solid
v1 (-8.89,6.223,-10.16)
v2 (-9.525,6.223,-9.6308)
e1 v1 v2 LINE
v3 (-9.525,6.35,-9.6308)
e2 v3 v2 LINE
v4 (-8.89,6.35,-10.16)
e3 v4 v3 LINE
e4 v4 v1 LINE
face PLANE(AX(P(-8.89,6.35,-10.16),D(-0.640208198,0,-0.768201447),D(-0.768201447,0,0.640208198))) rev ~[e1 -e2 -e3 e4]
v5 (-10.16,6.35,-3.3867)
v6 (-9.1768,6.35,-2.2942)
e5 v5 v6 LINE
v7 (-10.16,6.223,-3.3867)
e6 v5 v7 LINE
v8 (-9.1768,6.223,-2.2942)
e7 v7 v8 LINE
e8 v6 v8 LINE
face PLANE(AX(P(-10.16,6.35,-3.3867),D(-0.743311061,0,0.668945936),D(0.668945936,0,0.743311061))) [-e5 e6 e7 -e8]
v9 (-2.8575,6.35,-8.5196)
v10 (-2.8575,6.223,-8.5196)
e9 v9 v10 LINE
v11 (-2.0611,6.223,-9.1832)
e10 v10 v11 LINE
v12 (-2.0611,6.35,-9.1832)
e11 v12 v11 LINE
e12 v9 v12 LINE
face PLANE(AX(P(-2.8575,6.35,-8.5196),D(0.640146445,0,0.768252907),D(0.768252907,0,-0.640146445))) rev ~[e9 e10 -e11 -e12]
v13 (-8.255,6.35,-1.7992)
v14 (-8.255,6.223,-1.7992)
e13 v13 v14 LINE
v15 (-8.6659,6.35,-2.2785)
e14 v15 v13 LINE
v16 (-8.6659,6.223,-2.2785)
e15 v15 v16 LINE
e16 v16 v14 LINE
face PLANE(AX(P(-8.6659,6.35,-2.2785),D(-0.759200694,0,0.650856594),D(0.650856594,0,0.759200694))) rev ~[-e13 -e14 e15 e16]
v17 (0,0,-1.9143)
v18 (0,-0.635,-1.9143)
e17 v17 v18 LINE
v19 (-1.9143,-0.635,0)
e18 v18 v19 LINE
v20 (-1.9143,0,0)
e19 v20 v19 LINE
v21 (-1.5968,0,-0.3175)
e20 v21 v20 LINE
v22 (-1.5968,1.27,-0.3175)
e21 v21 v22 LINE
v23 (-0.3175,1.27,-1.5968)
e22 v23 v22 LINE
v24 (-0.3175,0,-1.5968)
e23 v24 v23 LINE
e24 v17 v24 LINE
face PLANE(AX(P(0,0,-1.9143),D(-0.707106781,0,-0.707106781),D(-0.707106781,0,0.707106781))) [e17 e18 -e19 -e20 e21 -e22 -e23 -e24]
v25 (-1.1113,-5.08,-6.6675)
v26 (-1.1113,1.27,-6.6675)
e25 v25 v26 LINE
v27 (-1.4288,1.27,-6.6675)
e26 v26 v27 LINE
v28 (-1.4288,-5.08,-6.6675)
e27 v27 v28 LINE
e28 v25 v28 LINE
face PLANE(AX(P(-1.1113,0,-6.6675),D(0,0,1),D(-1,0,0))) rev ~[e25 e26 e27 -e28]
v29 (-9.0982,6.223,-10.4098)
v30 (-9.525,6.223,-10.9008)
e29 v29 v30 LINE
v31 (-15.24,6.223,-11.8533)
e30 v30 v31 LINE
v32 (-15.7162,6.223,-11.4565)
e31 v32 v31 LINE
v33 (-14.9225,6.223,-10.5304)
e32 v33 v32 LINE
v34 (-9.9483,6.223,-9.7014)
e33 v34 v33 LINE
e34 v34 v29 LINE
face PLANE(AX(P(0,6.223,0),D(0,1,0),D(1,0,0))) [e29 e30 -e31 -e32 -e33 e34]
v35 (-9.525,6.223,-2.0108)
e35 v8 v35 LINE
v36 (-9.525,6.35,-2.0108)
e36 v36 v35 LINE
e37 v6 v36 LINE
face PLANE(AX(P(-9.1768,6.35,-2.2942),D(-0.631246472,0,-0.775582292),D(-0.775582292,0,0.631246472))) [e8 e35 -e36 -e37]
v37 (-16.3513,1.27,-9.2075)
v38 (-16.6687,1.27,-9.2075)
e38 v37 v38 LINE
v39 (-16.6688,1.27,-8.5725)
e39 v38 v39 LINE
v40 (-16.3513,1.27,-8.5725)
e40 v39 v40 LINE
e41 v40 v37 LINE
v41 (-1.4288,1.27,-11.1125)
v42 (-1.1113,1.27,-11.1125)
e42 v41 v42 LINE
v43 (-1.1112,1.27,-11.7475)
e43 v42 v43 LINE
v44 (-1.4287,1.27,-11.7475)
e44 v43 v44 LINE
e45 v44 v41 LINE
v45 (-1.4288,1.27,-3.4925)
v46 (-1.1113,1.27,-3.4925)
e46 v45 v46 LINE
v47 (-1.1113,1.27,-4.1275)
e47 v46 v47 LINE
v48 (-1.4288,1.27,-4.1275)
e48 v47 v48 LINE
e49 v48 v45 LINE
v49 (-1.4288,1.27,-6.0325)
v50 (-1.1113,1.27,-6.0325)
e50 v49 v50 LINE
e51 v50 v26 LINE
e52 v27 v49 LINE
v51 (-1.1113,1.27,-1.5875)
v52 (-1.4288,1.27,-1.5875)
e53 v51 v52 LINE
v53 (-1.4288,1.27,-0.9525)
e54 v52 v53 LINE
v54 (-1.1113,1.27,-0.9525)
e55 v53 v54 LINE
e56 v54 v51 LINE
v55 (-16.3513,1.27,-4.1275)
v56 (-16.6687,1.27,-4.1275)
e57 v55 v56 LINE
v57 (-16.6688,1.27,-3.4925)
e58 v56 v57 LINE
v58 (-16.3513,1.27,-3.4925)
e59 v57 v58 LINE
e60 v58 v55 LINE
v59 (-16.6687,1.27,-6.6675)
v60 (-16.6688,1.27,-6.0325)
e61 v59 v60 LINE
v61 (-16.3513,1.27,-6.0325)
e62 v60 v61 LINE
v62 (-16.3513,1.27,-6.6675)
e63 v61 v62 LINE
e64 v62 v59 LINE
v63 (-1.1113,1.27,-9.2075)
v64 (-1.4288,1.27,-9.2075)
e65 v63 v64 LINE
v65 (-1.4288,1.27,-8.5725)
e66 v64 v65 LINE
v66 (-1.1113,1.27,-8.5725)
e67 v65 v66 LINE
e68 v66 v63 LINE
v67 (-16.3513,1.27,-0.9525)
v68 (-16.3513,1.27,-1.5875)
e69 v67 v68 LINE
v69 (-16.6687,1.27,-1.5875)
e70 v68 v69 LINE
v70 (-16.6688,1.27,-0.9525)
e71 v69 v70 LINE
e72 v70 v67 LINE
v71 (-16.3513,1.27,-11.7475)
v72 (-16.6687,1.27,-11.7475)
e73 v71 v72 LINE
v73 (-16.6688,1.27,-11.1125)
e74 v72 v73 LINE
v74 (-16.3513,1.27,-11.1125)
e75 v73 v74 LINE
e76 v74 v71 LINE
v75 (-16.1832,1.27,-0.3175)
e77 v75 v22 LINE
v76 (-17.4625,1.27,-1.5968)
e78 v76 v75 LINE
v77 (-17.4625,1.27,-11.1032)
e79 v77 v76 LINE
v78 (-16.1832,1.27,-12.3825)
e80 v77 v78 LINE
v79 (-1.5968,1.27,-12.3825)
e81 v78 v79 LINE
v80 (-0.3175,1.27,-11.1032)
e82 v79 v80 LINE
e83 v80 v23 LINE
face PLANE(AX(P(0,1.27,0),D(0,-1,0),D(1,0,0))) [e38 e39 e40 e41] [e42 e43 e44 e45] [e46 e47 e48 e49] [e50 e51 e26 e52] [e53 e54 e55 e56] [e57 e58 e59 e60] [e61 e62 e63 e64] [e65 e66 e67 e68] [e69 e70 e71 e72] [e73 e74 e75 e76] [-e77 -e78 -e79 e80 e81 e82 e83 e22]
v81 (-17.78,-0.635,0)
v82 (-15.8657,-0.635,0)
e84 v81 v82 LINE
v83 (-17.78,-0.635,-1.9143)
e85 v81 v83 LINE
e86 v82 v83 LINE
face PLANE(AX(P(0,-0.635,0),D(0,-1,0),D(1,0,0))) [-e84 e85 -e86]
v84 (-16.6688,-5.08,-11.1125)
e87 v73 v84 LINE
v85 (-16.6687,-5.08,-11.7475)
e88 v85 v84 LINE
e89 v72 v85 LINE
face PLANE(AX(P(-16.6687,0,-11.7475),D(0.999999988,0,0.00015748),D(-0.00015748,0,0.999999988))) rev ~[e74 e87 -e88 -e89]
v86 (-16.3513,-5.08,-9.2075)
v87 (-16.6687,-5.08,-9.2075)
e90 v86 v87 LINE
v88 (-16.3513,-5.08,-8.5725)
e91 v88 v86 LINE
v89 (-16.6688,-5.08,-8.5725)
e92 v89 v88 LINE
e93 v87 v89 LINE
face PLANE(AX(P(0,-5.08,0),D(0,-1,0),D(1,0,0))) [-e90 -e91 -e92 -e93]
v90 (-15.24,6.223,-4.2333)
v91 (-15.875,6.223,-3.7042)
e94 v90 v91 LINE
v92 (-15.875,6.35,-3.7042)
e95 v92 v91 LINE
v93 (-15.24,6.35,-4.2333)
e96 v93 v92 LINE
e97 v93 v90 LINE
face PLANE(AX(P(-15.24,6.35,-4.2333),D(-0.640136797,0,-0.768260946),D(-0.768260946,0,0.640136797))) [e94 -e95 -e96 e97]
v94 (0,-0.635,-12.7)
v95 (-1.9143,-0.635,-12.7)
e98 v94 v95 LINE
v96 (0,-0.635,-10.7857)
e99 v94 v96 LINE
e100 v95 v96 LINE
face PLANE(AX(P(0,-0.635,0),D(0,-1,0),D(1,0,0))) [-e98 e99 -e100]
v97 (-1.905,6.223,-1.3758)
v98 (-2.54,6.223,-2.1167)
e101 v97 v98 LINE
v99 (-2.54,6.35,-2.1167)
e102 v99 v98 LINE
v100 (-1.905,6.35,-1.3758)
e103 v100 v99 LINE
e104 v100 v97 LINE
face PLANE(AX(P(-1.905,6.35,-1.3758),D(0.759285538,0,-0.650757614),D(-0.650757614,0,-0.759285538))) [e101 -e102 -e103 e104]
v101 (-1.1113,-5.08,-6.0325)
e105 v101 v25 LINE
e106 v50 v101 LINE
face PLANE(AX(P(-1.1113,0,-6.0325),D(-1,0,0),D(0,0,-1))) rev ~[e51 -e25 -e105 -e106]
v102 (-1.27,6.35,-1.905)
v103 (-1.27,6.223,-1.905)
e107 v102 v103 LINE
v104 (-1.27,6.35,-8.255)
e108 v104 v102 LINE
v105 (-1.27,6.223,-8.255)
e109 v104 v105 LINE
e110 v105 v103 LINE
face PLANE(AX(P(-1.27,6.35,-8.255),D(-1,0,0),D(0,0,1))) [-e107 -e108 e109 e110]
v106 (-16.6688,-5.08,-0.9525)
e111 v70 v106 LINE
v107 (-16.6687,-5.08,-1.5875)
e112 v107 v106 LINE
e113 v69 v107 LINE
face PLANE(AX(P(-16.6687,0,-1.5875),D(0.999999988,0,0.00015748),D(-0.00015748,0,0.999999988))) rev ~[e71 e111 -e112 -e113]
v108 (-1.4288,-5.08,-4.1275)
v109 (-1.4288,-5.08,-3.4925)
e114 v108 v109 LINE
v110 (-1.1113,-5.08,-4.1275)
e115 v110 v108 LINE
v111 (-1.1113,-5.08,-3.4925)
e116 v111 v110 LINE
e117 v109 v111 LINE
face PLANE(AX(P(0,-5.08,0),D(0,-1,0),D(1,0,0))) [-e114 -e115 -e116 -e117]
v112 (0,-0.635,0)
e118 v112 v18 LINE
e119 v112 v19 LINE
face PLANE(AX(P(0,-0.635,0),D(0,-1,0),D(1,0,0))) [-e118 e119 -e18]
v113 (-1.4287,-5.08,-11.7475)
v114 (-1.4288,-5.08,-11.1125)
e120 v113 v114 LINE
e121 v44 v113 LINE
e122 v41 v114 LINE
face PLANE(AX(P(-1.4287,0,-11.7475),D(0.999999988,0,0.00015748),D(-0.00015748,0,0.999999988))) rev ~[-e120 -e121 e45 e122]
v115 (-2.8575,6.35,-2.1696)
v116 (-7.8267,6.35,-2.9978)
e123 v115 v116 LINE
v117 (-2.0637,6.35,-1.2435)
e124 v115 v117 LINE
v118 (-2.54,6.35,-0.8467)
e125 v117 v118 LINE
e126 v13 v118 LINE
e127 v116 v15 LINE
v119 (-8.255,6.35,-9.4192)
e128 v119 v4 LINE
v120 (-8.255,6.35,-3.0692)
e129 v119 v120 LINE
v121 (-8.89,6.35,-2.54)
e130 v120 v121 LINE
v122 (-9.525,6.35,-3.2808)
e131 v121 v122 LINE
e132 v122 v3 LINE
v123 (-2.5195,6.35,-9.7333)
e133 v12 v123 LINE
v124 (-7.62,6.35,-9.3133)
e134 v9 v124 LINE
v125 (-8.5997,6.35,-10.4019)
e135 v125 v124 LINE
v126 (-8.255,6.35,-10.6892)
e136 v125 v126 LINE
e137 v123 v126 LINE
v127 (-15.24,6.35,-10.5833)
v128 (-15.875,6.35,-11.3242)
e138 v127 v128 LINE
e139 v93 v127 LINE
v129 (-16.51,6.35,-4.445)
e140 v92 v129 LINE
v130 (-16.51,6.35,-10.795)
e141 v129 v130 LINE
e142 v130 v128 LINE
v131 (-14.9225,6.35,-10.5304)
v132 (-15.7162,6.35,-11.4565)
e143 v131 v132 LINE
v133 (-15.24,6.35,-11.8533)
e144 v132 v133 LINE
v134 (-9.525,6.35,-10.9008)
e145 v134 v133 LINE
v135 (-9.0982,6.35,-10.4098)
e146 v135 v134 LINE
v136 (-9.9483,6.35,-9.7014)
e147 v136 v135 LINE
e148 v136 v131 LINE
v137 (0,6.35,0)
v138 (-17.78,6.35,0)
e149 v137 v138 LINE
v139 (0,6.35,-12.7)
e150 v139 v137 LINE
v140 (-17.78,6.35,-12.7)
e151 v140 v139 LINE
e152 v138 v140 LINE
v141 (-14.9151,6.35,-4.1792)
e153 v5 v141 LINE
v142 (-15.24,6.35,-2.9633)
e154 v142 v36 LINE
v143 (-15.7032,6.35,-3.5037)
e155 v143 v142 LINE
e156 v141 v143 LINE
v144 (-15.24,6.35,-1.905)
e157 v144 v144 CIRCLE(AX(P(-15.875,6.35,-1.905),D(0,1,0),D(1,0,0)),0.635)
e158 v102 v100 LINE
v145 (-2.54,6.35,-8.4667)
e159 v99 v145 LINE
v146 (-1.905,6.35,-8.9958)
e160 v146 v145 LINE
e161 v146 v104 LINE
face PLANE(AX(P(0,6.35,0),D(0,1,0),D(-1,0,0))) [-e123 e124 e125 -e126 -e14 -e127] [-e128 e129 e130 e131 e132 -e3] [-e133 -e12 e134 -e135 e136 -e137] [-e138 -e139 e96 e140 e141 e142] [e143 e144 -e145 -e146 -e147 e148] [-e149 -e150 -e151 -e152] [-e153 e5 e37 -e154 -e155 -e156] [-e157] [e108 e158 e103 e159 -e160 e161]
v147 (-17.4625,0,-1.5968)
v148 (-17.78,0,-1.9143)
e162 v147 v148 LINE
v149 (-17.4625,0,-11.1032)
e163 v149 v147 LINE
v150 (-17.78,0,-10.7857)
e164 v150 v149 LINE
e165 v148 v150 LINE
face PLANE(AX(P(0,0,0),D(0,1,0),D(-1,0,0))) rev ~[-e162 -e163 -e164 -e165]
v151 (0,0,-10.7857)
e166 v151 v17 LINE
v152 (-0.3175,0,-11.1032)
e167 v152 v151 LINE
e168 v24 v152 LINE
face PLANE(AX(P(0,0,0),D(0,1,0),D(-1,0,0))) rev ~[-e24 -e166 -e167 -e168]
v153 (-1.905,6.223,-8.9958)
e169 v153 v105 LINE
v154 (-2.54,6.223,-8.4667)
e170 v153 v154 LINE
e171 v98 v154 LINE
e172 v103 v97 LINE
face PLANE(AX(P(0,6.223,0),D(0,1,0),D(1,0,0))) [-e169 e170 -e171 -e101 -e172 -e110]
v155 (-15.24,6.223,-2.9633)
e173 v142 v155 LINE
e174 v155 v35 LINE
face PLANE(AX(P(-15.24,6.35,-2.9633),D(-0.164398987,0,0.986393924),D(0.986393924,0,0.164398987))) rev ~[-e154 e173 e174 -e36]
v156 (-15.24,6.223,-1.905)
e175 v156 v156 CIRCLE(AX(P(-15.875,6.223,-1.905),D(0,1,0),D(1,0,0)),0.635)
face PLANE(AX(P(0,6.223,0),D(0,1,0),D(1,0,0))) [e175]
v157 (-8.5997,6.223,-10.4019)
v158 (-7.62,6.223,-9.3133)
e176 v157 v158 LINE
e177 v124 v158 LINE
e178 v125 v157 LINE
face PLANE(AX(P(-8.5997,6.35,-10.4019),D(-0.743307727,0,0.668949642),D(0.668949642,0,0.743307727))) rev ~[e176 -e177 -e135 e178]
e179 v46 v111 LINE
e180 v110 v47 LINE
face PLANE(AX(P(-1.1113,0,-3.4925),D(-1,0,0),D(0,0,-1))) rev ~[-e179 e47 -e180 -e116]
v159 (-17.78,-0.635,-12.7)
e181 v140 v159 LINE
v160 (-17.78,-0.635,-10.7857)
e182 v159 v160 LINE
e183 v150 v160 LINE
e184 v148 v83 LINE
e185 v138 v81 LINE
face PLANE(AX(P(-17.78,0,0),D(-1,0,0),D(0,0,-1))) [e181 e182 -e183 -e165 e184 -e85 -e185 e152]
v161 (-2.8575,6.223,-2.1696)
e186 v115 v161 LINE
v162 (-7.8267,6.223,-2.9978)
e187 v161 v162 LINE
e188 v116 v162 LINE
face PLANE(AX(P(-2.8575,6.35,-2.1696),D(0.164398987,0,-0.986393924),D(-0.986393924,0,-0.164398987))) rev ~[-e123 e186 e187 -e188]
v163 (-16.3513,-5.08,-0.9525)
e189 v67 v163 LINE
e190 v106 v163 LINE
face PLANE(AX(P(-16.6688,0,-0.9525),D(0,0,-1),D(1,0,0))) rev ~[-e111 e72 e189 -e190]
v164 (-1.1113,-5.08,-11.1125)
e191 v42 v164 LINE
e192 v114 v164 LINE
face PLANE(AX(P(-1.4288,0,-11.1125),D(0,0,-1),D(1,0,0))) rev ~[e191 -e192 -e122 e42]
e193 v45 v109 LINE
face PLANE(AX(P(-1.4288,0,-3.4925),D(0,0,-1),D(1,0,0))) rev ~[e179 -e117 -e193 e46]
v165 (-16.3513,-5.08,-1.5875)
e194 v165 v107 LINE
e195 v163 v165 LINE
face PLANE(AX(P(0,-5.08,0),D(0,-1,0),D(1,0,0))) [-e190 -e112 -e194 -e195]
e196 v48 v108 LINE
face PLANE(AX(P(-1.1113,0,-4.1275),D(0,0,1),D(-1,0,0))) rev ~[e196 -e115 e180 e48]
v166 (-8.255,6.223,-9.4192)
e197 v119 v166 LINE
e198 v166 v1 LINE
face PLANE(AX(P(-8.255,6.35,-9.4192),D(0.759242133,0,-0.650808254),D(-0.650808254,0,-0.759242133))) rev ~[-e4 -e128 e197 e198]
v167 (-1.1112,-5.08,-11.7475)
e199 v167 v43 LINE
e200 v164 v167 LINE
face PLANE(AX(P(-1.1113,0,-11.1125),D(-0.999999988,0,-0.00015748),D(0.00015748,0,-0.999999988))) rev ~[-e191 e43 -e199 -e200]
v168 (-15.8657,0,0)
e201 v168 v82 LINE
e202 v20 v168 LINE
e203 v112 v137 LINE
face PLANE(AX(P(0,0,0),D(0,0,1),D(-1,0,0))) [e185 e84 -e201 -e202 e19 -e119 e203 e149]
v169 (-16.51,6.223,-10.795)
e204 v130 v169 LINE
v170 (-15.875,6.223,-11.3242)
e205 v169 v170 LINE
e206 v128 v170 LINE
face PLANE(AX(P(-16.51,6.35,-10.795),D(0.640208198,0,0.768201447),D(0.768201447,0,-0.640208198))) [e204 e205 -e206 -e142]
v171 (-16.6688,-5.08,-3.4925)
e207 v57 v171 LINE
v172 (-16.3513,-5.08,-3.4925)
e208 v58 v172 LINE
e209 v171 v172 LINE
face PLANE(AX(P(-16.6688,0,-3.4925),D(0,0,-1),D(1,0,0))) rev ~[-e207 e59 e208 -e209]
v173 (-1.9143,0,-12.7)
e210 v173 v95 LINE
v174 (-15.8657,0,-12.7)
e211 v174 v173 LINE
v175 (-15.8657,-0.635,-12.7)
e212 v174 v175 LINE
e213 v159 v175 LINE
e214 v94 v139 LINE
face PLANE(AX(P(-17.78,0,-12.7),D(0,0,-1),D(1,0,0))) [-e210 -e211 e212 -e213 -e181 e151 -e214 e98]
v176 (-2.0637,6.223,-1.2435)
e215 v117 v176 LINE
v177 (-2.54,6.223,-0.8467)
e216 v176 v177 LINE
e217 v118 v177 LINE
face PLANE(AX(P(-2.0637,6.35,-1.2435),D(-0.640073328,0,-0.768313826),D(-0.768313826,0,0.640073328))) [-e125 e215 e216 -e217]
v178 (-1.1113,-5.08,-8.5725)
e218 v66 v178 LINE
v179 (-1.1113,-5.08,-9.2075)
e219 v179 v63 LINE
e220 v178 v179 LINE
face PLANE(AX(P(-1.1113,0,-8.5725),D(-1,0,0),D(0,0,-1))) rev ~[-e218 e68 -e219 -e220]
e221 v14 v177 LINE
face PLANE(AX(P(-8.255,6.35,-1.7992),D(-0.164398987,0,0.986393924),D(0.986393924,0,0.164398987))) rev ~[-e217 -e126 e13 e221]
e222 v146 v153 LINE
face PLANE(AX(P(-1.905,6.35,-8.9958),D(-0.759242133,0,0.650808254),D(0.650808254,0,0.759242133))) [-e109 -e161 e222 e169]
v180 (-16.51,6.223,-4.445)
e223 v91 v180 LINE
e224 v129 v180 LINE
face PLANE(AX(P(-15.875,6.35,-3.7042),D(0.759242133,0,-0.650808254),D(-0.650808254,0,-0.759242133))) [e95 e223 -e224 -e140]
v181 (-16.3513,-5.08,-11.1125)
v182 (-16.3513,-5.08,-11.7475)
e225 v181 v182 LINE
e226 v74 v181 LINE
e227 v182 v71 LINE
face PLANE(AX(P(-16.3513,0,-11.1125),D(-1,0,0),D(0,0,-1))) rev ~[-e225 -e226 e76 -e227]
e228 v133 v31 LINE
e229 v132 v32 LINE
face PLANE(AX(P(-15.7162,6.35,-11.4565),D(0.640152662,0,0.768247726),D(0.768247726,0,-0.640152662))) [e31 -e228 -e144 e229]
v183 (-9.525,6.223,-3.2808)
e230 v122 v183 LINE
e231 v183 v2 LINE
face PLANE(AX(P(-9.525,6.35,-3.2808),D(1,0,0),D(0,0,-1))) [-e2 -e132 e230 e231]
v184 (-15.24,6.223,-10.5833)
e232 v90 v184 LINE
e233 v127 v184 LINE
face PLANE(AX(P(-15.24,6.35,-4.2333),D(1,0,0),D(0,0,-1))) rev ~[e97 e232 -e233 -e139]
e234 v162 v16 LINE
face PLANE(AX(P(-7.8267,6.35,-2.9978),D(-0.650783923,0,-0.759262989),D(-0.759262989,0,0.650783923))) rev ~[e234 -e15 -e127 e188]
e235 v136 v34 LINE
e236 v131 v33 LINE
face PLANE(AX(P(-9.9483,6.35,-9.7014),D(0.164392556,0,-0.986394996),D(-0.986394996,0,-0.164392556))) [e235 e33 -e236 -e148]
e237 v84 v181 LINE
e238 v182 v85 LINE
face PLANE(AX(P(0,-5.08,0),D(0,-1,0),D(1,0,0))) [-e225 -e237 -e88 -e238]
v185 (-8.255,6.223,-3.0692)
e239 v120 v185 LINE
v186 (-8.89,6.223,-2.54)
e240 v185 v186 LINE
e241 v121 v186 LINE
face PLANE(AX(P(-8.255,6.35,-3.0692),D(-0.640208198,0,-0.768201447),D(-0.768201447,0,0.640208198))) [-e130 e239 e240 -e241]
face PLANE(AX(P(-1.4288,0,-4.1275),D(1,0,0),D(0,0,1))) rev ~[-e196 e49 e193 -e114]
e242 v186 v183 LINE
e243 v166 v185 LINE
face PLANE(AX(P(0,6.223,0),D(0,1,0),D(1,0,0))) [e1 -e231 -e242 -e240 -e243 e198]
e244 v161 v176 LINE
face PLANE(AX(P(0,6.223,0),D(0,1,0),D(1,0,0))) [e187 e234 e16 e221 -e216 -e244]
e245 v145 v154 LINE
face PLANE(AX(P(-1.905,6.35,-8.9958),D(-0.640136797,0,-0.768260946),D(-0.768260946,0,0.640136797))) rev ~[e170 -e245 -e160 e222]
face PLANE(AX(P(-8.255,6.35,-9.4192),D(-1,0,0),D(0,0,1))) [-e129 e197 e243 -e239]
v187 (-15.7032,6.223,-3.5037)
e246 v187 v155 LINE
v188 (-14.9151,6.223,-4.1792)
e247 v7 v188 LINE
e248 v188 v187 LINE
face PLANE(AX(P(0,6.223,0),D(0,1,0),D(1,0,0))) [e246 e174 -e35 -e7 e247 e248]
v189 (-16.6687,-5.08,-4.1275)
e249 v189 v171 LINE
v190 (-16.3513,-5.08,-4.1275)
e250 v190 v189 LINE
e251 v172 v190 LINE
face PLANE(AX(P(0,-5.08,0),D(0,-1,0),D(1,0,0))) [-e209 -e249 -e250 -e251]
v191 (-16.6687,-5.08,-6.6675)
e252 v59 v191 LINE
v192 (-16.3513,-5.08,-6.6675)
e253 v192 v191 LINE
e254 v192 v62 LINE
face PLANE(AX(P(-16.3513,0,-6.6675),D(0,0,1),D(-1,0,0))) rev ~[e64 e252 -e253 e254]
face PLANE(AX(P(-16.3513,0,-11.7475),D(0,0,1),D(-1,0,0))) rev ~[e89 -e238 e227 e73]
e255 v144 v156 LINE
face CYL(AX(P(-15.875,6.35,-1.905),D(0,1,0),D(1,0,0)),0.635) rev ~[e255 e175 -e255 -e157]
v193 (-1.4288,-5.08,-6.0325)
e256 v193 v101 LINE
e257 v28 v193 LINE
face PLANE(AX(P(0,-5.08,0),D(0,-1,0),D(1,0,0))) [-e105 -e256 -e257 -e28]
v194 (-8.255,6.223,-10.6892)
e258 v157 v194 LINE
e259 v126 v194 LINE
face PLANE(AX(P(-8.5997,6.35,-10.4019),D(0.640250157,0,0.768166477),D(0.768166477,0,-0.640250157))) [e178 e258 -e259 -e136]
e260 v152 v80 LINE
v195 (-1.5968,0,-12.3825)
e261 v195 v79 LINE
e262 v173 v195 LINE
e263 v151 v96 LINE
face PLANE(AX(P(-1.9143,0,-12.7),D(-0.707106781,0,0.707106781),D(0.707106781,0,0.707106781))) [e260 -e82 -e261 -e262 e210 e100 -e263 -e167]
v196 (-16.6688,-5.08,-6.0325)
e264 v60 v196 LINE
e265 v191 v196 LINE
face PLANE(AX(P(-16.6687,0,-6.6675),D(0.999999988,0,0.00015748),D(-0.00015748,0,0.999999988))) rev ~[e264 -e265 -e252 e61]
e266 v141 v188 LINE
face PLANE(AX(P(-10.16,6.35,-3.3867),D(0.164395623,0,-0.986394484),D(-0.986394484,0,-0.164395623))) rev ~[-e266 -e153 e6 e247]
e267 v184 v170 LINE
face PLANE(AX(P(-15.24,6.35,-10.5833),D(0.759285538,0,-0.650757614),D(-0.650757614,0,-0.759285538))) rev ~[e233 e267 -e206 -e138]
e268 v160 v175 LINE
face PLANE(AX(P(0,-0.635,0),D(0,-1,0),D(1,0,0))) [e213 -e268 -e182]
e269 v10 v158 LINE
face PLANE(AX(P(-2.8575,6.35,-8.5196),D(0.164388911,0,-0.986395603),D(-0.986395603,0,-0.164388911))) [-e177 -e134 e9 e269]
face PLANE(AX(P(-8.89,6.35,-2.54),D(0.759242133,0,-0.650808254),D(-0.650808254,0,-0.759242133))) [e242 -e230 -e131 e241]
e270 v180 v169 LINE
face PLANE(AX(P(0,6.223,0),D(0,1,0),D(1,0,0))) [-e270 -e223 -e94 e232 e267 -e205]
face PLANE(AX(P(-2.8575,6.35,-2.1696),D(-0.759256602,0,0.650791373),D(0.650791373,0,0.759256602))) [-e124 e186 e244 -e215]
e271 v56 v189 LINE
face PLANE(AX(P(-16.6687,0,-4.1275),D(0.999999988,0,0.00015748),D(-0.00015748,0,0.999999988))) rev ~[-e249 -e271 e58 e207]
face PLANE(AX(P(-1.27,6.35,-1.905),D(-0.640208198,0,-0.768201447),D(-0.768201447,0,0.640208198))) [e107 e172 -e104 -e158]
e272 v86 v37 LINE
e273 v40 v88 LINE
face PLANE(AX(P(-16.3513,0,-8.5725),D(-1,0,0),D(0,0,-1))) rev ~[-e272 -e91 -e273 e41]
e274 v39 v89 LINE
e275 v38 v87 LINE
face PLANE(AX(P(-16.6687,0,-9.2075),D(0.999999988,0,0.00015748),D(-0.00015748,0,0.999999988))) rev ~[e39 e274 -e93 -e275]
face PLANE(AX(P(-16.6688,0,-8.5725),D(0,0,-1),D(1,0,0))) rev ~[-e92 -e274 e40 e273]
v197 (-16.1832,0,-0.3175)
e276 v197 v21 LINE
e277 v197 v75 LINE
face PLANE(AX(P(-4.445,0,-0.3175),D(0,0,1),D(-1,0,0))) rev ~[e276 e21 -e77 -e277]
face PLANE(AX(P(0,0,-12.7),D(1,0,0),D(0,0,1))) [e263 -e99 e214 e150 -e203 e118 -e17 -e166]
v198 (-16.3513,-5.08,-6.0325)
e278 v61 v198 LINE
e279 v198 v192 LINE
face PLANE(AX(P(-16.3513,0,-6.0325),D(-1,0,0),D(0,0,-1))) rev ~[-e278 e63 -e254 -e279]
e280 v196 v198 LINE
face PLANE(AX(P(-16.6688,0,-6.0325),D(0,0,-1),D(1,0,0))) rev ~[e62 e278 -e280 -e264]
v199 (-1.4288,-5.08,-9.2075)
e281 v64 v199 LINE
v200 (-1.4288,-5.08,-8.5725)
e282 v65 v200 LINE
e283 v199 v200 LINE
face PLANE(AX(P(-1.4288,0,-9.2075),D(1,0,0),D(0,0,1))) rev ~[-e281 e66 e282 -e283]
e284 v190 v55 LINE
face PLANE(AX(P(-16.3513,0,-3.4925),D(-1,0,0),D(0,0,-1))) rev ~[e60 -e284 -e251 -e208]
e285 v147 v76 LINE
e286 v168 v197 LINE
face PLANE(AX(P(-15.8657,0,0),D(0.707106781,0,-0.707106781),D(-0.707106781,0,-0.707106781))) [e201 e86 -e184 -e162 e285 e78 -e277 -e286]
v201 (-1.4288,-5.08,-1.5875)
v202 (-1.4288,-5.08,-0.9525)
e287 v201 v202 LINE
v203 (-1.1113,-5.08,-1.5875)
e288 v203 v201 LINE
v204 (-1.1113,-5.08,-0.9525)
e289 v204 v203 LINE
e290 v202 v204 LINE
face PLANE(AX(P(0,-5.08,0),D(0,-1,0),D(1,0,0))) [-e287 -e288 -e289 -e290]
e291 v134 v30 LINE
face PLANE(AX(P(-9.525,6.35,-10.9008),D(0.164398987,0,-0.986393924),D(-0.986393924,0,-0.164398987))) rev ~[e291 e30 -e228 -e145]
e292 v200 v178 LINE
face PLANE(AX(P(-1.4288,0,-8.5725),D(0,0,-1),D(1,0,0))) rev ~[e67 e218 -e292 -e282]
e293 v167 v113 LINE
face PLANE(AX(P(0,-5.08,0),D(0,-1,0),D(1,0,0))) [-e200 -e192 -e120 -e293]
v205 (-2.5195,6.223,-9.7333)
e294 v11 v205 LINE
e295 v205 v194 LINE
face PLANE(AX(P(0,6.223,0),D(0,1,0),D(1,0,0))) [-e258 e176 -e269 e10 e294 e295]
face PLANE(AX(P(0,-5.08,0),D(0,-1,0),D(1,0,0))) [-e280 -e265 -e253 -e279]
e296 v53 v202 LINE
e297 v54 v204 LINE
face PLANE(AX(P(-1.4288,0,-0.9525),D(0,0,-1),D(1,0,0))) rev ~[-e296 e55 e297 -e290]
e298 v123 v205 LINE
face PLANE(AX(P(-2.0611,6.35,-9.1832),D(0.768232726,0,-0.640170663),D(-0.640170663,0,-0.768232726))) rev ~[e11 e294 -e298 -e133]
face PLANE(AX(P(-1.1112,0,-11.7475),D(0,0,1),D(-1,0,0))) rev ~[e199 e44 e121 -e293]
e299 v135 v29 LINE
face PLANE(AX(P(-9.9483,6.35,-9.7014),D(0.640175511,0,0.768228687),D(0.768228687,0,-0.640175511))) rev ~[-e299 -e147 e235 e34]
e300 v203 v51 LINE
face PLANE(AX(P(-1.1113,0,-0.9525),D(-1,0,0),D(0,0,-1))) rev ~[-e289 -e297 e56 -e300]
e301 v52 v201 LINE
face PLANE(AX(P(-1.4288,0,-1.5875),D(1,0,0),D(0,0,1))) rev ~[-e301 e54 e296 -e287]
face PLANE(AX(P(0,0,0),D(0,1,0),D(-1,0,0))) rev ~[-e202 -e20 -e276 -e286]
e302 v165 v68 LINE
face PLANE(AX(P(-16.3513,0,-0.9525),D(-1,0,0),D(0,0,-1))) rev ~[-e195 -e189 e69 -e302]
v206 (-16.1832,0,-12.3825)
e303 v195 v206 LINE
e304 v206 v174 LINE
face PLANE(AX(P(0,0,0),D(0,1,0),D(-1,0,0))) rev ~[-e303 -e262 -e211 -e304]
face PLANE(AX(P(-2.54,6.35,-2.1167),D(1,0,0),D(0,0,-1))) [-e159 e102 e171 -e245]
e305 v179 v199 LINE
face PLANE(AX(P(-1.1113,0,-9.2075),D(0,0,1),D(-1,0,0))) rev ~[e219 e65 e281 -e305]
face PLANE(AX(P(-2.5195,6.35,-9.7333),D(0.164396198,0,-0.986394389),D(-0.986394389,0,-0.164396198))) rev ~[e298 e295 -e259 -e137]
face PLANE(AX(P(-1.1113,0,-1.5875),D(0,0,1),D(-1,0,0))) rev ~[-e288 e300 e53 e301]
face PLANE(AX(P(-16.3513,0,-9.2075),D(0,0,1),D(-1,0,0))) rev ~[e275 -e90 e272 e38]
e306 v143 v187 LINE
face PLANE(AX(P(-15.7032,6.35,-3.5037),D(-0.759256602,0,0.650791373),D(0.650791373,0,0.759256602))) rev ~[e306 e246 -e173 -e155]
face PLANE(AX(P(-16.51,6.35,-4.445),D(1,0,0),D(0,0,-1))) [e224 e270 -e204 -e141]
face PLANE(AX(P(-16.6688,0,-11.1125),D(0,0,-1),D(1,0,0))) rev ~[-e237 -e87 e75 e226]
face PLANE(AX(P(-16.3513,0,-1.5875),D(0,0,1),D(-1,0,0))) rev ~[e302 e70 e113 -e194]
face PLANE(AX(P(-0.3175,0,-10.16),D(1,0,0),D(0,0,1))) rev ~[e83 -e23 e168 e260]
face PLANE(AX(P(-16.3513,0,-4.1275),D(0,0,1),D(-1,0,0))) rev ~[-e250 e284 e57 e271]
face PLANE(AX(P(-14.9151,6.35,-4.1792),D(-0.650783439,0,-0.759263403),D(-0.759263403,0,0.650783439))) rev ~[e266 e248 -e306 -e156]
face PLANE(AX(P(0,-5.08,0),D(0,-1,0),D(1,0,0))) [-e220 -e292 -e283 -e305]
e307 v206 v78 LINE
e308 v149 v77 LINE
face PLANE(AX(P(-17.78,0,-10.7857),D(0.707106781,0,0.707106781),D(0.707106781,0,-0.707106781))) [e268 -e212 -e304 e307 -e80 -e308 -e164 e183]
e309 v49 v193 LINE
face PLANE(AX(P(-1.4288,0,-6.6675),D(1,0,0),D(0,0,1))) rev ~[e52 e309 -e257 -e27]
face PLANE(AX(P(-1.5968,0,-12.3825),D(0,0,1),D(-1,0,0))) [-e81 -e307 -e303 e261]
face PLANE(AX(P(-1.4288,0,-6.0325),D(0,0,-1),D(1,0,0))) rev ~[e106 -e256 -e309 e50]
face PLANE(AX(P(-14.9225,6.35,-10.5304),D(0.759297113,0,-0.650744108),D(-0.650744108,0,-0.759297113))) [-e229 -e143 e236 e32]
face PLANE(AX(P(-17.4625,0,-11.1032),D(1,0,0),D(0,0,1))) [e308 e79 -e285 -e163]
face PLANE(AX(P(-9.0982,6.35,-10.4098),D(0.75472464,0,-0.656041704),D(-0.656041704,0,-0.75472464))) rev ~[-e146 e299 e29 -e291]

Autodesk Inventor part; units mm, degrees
ref_plane "YZ Plane" through (0, 0, 0) normal (1, 0, 0) x (0, 1, 0)
ref_plane "XZ Plane" through (0, 0, 0) normal (0, 1, 0) x (-1, 0, 0)
ref_plane "XY Plane" through (0, 0, 0) normal (0, 0, 1) x (1, 0, 0)
sketch "Náčrt1" plane through (0, 0, 0) normal (0, 1, 0) x (-1, 0, 0)
  line L0 (0, 0) -> (17.78, 0)
  line L1 (17.78, 0) -> (17.78, -12.7)
  line L2 (17.78, -12.7) -> (0, -12.7)
  line L3 (0, -12.7) -> (0, 0)
  dimension "d0" = 17.78
  dimension "d1" = 12.7
extrude "Vysunutí1" add sketch "Náčrt1" along normal blind 6.35
sketch "Náčrt2" plane through (0, 0, 0) normal (0, -1, 0) x (1, 0, 0)
  line L0 (0, 0) -> (0, -1.9143)
  line L1 (0, -1.9143) -> (-1.9143, 0)
  line L2 (0, 0) -> (-1.9143, 0)
  line L3 (-17.78, -12.7) -> (-17.78, -10.7857)
  line L4 (-17.78, -10.7857) -> (-15.8657, -12.7)
  line L5 (-17.78, -12.7) -> (-15.8657, -12.7)
  line L6 (0, -12.7) -> (-1.9143, -12.7)
  line L7 (-1.9143, -12.7) -> (0, -10.7857)
  line L8 (0, -12.7) -> (0, -10.7857)
  line L9 (-17.78, 0) -> (-15.8657, 0)
  line L10 (-15.8657, 0) -> (-17.78, -1.9143)
  line L11 (-17.78, 0) -> (-17.78, -1.9143)
  dimension "d4" = 45
  dimension "d5" = 45
  dimension "d6" = 45
  dimension "d7" = 45
extrude "Vysunutí2" add sketch "Náčrt2" along normal blind 0.635
sketch "Náčrt3" plane through (0, 0, 0) normal (0, -1, 0) x (1, 0, 0)
  line L0 (-16.3513, -0.9525) -> (-16.3513, -1.5875)
  line L1 (-16.3513, -1.5875) -> (-16.6687, -1.5875)
  line L2 (-16.6687, -1.5875) -> (-16.6688, -0.9525)
  line L3 (-16.6688, -0.9525) -> (-16.3513, -0.9525)
  line L4 (-16.3513, -3.4925) -> (-16.3513, -4.1275)
  line L5 (-16.3513, -4.1275) -> (-16.6687, -4.1275)
  line L6 (-16.6687, -4.1275) -> (-16.6688, -3.4925)
  line L7 (-16.6688, -3.4925) -> (-16.3513, -3.4925)
  line L8 (-16.3513, -6.0325) -> (-16.3513, -6.6675)
  line L9 (-16.3513, -6.6675) -> (-16.6687, -6.6675)
  line L10 (-16.6687, -6.6675) -> (-16.6688, -6.0325)
  line L11 (-16.6688, -6.0325) -> (-16.3513, -6.0325)
  line L12 (-16.3513, -8.5725) -> (-16.3513, -9.2075)
  line L13 (-16.3513, -9.2075) -> (-16.6687, -9.2075)
  line L14 (-16.6687, -9.2075) -> (-16.6688, -8.5725)
  line L15 (-16.6688, -8.5725) -> (-16.3513, -8.5725)
  line L16 (-16.3513, -11.1125) -> (-16.3513, -11.7475)
  line L17 (-16.3513, -11.7475) -> (-16.6687, -11.7475)
  line L18 (-16.6687, -11.7475) -> (-16.6688, -11.1125)
  line L19 (-16.6688, -11.1125) -> (-16.3513, -11.1125)
  line L20 (-1.1113, -0.9525) -> (-1.1113, -1.5875)
  line L21 (-1.1113, -1.5875) -> (-1.4288, -1.5875)
  line L22 (-1.4288, -1.5875) -> (-1.4288, -0.9525)
  line L23 (-1.4288, -0.9525) -> (-1.1113, -0.9525)
  line L24 (-1.1113, -3.4925) -> (-1.1113, -4.1275)
  line L25 (-1.1113, -4.1275) -> (-1.4288, -4.1275)
  line L26 (-1.4288, -4.1275) -> (-1.4288, -3.4925)
  line L27 (-1.4288, -3.4925) -> (-1.1113, -3.4925)
  line L28 (-1.1113, -6.0325) -> (-1.1113, -6.6675)
  line L29 (-1.1113, -6.6675) -> (-1.4288, -6.6675)
  line L30 (-1.4288, -6.6675) -> (-1.4288, -6.0325)
  line L31 (-1.4288, -6.0325) -> (-1.1113, -6.0325)
  line L32 (-1.1113, -8.5725) -> (-1.1113, -9.2075)
  line L33 (-1.1113, -9.2075) -> (-1.4288, -9.2075)
  line L34 (-1.4288, -9.2075) -> (-1.4288, -8.5725)
  line L35 (-1.4288, -8.5725) -> (-1.1113, -8.5725)
  line L36 (-1.1113, -11.1125) -> (-1.1112, -11.7475)
  line L37 (-1.1112, -11.7475) -> (-1.4287, -11.7475)
  line L38 (-1.4287, -11.7475) -> (-1.4288, -11.1125)
  line L39 (-1.4288, -11.1125) -> (-1.1113, -11.1125)
  point P0 (0, 0)
  point P1 (-16.51, -6.35)
  point P2 (-1.27, -6.35)
  point P3 (-16.51, -3.81)
  point P4 (-16.51, -8.89)
  point P5 (-1.27, -8.89)
  point P6 (-1.27, -3.81)
  point P7 (-16.51, -1.27)
  point P8 (-16.51, -3.81)
  point P9 (-16.51, -6.35)
  point P10 (-16.51, -8.89)
  point P11 (-16.51, -11.43)
  point P12 (-1.27, -1.27)
  point P13 (-1.27, -3.81)
  point P14 (-1.27, -6.35)
  point P15 (-1.27, -8.89)
  point P16 (-1.27, -11.43)
extrude "Vysunutí3" add sketch "Náčrt3" along normal blind 5.08
sketch "Náčrt4" plane through (0, 0, 0) normal (0, -1, 0) x (1, 0, 0)
  line L0 (-1.1113, -9.2075) -> (-1.4288, -9.2075) projected
  line L1 (-1.4288, -9.2075) -> (-1.4288, -8.5725) projected
  line L2 (-1.4288, -8.5725) -> (-1.1113, -8.5725) projected
  line L3 (-1.1113, -8.5725) -> (-1.1113, -9.2075) projected
  line L4 (-1.1113, -4.1275) -> (-1.4288, -4.1275) projected
  line L5 (-1.4288, -4.1275) -> (-1.4288, -3.4925) projected
  line L6 (-1.4288, -3.4925) -> (-1.1113, -3.4925) projected
  line L7 (-1.1113, -3.4925) -> (-1.1113, -4.1275) projected
  line L8 (-16.3513, -11.7475) -> (-16.6687, -11.7475) projected
  line L9 (-16.6687, -11.7475) -> (-16.6688, -11.1125) projected
  line L10 (-16.6688, -11.1125) -> (-16.3513, -11.1125) projected
  line L11 (-16.3513, -11.1125) -> (-16.3513, -11.7475) projected
  line L12 (-16.3513, -6.6675) -> (-16.6687, -6.6675) projected
  line L13 (-16.6687, -6.6675) -> (-16.6688, -6.0325) projected
  line L14 (-16.6688, -6.0325) -> (-16.3513, -6.0325) projected
  line L15 (-16.3513, -6.0325) -> (-16.3513, -6.6675) projected
  line L16 (-16.3513, -1.5875) -> (-16.6687, -1.5875) projected
  line L17 (-16.6687, -1.5875) -> (-16.6688, -0.9525) projected
  line L18 (-16.6688, -0.9525) -> (-16.3513, -0.9525) projected
  line L19 (-16.3513, -0.9525) -> (-16.3513, -1.5875) projected
  line L20 (-16.3513, -4.1275) -> (-16.6687, -4.1275) projected
  line L21 (-16.6687, -4.1275) -> (-16.6688, -3.4925) projected
  line L22 (-16.6688, -3.4925) -> (-16.3513, -3.4925) projected
  line L23 (-16.3513, -3.4925) -> (-16.3513, -4.1275) projected
  line L24 (-16.3513, -9.2075) -> (-16.6687, -9.2075) projected
  line L25 (-16.6687, -9.2075) -> (-16.6688, -8.5725) projected
  line L26 (-16.6688, -8.5725) -> (-16.3513, -8.5725) projected
  line L27 (-16.3513, -8.5725) -> (-16.3513, -9.2075) projected
  line L28 (-1.1113, -1.5875) -> (-1.4288, -1.5875) projected
  line L29 (-1.4288, -1.5875) -> (-1.4288, -0.9525) projected
  line L30 (-1.4288, -0.9525) -> (-1.1113, -0.9525) projected
  line L31 (-1.1113, -0.9525) -> (-1.1113, -1.5875) projected
  line L32 (-1.1113, -6.6675) -> (-1.4288, -6.6675) projected
  line L33 (-1.4288, -6.6675) -> (-1.4288, -6.0325) projected
  line L34 (-1.4288, -6.0325) -> (-1.1113, -6.0325) projected
  line L35 (-1.1113, -6.0325) -> (-1.1113, -6.6675) projected
  line L36 (-1.1112, -11.7475) -> (-1.4287, -11.7475) projected
  line L37 (-1.4287, -11.7475) -> (-1.4288, -11.1125) projected
  line L38 (-1.4288, -11.1125) -> (-1.1113, -11.1125) projected
  line L39 (-1.1113, -11.1125) -> (-1.1112, -11.7475) projected
  line L40 (-1.9143, -12.7) -> (0, -10.7857) projected
  line L41 (0, -10.7857) -> (0, -1.9143) projected
  line L42 (0, -1.9143) -> (-1.9143, 0) projected
  line L43 (-1.9143, 0) -> (-15.8657, 0) projected
  line L44 (-17.78, -1.9143) -> (-17.78, -10.7857) projected
  line L45 (-17.78, -10.7857) -> (-15.8657, -12.7) projected
  line L46 (-15.8657, -12.7) -> (-1.9143, -12.7) projected
  line L47 (-3.81, -12.7) -> (-3.81, -12.3825)
  line L48 (-0.3175, -12.3825) -> (-17.6212, -12.3825)
  line L49 (0, -10.16) -> (-0.3175, -10.16)
  line L50 (-4.445, 0) -> (-4.445, -0.3175)
  line L51 (-17.78, -2.54) -> (-17.4625, -2.54)
  line L52 (-0.3175, -12.3825) -> (-0.3175, -1.5968)
  line L53 (-17.4625, -12.3825) -> (-17.4625, -1.5968)
  line L54 (-15.8657, -12.7) -> (-17.78, -10.7857) projected
  line L55 (-17.4625, -11.1032) -> (-16.1832, -12.3825)
  line L56 (-1.5968, -12.3825) -> (-0.3175, -11.1032)
  line L57 (-17.4625, -1.5968) -> (-16.1832, -0.3175)
  line L58 (-1.9143, 0) -> (0, -1.9143) projected
  line L59 (-17.4625, -1.5968) -> (-16.1832, -0.3175)
  line L60 (-17.78, -1.9143) -> (-15.8657, 0) projected
  line L61 (-1.5968, -0.3175) -> (-0.3175, -1.5968)
  line L62 (-1.5968, -0.3175) -> (-16.1832, -0.3175)
  line L63 (-17.4625, -0.3175) -> (-17.6212, -0.3175)
  point P0 (0, 0)
extrude "Vysunutí4" cut sketch "Náčrt4" against normal blind 1.27 contours L48 L45 L53 L57 L62 L42 L52 L40
sketch "Náčrt5" plane through (0, 6.35, 0) normal (0, 1, 0) x (1, 0, 0)
  line L0 (-1.27, 8.255) -> (-1.27, 1.905)
  line L1 (-16.51, 4.445) -> (-16.51, 10.795)
  line L2 (-1.905, 8.9958) -> (-1.27, 8.255)
  line L3 (-1.905, 8.9958) -> (-2.54, 8.4667)
  line L4 (-1.27, 1.905) -> (-1.905, 1.3758)
  line L5 (-1.905, 1.3758) -> (-2.54, 2.1167)
  line L6 (-8.255, 3.0692) -> (-8.89, 2.54)
  line L7 (-8.89, 2.54) -> (-9.525, 3.2808)
  line L8 (-8.255, 9.4192) -> (-8.89, 10.16)
  line L9 (-8.89, 10.16) -> (-9.525, 9.6308)
  line L10 (-16.51, 10.795) -> (-15.875, 11.3242)
  line L11 (-15.24, 10.5833) -> (-15.875, 11.3242)
  line L12 (-2.8575, 8.5196) -> (-2.0611, 9.1832)
  line L13 (-2.8575, 2.1696) -> (-2.0637, 1.2435)
  line L14 (-15.24, 4.2333) -> (-15.875, 3.7042)
  line L15 (-15.875, 3.7042) -> (-16.51, 4.445)
  line L16 (-14.9225, 10.5304) -> (-15.7162, 11.4565)
  line L17 (-14.9151, 4.1792) -> (-15.7032, 3.5037)
  line L18 (-15.7162, 11.4565) -> (-15.24, 11.8533)
  line L19 (-15.7032, 3.5037) -> (-15.24, 2.9633)
  line L20 (-9.1768, 2.2942) -> (-9.525, 2.0108)
  line L21 (-8.6659, 2.2785) -> (-8.255, 1.7992)
  line L22 (-9.0982, 10.4098) -> (-9.525, 10.9008)
  line L23 (-8.5997, 10.4019) -> (-8.255, 10.6892)
  line L24 (-2.0637, 1.2435) -> (-2.54, 0.8467)
  line L25 (-2.0611, 9.1832) -> (-2.5195, 9.7333)
  line L26 (-2.54, 2.1167) -> (-2.54, 8.4667)
  line L27 (-2.8575, 2.1696) -> (-7.8267, 2.9978)
  line L28 (-9.525, 3.2808) -> (-9.525, 9.6308)
  line L29 (-7.8267, 2.9978) -> (-8.6659, 2.2785)
  line L30 (-15.24, 2.9633) -> (-9.525, 2.0108)
  line L31 (-8.255, 1.7992) -> (-2.54, 0.8467)
  line L32 (-10.16, 3.3867) -> (-9.1768, 2.2942)
  line L33 (-2.8575, 8.5196) -> (-7.62, 9.3133)
  line L34 (-8.255, 9.4192) -> (-8.255, 3.0692)
  line L35 (-2.5195, 9.7333) -> (-8.255, 10.6892)
  line L36 (-8.5997, 10.4019) -> (-7.62, 9.3133)
  line L37 (-9.9483, 9.7014) -> (-9.0982, 10.4098)
  line L38 (-9.9483, 9.7014) -> (-14.9225, 10.5304)
  line L39 (-9.525, 10.9008) -> (-15.24, 11.8533)
  line L40 (-10.16, 3.3867) -> (-14.9151, 4.1792)
  line L41 (-15.24, 4.2333) -> (-15.24, 10.5833)
  circle A0 centre (-15.875, 1.905) radius 0.635
extrude "Vysunutí5" cut sketch "Náčrt5" against normal blind 0.127
properties part number "SA52-11EWA"
